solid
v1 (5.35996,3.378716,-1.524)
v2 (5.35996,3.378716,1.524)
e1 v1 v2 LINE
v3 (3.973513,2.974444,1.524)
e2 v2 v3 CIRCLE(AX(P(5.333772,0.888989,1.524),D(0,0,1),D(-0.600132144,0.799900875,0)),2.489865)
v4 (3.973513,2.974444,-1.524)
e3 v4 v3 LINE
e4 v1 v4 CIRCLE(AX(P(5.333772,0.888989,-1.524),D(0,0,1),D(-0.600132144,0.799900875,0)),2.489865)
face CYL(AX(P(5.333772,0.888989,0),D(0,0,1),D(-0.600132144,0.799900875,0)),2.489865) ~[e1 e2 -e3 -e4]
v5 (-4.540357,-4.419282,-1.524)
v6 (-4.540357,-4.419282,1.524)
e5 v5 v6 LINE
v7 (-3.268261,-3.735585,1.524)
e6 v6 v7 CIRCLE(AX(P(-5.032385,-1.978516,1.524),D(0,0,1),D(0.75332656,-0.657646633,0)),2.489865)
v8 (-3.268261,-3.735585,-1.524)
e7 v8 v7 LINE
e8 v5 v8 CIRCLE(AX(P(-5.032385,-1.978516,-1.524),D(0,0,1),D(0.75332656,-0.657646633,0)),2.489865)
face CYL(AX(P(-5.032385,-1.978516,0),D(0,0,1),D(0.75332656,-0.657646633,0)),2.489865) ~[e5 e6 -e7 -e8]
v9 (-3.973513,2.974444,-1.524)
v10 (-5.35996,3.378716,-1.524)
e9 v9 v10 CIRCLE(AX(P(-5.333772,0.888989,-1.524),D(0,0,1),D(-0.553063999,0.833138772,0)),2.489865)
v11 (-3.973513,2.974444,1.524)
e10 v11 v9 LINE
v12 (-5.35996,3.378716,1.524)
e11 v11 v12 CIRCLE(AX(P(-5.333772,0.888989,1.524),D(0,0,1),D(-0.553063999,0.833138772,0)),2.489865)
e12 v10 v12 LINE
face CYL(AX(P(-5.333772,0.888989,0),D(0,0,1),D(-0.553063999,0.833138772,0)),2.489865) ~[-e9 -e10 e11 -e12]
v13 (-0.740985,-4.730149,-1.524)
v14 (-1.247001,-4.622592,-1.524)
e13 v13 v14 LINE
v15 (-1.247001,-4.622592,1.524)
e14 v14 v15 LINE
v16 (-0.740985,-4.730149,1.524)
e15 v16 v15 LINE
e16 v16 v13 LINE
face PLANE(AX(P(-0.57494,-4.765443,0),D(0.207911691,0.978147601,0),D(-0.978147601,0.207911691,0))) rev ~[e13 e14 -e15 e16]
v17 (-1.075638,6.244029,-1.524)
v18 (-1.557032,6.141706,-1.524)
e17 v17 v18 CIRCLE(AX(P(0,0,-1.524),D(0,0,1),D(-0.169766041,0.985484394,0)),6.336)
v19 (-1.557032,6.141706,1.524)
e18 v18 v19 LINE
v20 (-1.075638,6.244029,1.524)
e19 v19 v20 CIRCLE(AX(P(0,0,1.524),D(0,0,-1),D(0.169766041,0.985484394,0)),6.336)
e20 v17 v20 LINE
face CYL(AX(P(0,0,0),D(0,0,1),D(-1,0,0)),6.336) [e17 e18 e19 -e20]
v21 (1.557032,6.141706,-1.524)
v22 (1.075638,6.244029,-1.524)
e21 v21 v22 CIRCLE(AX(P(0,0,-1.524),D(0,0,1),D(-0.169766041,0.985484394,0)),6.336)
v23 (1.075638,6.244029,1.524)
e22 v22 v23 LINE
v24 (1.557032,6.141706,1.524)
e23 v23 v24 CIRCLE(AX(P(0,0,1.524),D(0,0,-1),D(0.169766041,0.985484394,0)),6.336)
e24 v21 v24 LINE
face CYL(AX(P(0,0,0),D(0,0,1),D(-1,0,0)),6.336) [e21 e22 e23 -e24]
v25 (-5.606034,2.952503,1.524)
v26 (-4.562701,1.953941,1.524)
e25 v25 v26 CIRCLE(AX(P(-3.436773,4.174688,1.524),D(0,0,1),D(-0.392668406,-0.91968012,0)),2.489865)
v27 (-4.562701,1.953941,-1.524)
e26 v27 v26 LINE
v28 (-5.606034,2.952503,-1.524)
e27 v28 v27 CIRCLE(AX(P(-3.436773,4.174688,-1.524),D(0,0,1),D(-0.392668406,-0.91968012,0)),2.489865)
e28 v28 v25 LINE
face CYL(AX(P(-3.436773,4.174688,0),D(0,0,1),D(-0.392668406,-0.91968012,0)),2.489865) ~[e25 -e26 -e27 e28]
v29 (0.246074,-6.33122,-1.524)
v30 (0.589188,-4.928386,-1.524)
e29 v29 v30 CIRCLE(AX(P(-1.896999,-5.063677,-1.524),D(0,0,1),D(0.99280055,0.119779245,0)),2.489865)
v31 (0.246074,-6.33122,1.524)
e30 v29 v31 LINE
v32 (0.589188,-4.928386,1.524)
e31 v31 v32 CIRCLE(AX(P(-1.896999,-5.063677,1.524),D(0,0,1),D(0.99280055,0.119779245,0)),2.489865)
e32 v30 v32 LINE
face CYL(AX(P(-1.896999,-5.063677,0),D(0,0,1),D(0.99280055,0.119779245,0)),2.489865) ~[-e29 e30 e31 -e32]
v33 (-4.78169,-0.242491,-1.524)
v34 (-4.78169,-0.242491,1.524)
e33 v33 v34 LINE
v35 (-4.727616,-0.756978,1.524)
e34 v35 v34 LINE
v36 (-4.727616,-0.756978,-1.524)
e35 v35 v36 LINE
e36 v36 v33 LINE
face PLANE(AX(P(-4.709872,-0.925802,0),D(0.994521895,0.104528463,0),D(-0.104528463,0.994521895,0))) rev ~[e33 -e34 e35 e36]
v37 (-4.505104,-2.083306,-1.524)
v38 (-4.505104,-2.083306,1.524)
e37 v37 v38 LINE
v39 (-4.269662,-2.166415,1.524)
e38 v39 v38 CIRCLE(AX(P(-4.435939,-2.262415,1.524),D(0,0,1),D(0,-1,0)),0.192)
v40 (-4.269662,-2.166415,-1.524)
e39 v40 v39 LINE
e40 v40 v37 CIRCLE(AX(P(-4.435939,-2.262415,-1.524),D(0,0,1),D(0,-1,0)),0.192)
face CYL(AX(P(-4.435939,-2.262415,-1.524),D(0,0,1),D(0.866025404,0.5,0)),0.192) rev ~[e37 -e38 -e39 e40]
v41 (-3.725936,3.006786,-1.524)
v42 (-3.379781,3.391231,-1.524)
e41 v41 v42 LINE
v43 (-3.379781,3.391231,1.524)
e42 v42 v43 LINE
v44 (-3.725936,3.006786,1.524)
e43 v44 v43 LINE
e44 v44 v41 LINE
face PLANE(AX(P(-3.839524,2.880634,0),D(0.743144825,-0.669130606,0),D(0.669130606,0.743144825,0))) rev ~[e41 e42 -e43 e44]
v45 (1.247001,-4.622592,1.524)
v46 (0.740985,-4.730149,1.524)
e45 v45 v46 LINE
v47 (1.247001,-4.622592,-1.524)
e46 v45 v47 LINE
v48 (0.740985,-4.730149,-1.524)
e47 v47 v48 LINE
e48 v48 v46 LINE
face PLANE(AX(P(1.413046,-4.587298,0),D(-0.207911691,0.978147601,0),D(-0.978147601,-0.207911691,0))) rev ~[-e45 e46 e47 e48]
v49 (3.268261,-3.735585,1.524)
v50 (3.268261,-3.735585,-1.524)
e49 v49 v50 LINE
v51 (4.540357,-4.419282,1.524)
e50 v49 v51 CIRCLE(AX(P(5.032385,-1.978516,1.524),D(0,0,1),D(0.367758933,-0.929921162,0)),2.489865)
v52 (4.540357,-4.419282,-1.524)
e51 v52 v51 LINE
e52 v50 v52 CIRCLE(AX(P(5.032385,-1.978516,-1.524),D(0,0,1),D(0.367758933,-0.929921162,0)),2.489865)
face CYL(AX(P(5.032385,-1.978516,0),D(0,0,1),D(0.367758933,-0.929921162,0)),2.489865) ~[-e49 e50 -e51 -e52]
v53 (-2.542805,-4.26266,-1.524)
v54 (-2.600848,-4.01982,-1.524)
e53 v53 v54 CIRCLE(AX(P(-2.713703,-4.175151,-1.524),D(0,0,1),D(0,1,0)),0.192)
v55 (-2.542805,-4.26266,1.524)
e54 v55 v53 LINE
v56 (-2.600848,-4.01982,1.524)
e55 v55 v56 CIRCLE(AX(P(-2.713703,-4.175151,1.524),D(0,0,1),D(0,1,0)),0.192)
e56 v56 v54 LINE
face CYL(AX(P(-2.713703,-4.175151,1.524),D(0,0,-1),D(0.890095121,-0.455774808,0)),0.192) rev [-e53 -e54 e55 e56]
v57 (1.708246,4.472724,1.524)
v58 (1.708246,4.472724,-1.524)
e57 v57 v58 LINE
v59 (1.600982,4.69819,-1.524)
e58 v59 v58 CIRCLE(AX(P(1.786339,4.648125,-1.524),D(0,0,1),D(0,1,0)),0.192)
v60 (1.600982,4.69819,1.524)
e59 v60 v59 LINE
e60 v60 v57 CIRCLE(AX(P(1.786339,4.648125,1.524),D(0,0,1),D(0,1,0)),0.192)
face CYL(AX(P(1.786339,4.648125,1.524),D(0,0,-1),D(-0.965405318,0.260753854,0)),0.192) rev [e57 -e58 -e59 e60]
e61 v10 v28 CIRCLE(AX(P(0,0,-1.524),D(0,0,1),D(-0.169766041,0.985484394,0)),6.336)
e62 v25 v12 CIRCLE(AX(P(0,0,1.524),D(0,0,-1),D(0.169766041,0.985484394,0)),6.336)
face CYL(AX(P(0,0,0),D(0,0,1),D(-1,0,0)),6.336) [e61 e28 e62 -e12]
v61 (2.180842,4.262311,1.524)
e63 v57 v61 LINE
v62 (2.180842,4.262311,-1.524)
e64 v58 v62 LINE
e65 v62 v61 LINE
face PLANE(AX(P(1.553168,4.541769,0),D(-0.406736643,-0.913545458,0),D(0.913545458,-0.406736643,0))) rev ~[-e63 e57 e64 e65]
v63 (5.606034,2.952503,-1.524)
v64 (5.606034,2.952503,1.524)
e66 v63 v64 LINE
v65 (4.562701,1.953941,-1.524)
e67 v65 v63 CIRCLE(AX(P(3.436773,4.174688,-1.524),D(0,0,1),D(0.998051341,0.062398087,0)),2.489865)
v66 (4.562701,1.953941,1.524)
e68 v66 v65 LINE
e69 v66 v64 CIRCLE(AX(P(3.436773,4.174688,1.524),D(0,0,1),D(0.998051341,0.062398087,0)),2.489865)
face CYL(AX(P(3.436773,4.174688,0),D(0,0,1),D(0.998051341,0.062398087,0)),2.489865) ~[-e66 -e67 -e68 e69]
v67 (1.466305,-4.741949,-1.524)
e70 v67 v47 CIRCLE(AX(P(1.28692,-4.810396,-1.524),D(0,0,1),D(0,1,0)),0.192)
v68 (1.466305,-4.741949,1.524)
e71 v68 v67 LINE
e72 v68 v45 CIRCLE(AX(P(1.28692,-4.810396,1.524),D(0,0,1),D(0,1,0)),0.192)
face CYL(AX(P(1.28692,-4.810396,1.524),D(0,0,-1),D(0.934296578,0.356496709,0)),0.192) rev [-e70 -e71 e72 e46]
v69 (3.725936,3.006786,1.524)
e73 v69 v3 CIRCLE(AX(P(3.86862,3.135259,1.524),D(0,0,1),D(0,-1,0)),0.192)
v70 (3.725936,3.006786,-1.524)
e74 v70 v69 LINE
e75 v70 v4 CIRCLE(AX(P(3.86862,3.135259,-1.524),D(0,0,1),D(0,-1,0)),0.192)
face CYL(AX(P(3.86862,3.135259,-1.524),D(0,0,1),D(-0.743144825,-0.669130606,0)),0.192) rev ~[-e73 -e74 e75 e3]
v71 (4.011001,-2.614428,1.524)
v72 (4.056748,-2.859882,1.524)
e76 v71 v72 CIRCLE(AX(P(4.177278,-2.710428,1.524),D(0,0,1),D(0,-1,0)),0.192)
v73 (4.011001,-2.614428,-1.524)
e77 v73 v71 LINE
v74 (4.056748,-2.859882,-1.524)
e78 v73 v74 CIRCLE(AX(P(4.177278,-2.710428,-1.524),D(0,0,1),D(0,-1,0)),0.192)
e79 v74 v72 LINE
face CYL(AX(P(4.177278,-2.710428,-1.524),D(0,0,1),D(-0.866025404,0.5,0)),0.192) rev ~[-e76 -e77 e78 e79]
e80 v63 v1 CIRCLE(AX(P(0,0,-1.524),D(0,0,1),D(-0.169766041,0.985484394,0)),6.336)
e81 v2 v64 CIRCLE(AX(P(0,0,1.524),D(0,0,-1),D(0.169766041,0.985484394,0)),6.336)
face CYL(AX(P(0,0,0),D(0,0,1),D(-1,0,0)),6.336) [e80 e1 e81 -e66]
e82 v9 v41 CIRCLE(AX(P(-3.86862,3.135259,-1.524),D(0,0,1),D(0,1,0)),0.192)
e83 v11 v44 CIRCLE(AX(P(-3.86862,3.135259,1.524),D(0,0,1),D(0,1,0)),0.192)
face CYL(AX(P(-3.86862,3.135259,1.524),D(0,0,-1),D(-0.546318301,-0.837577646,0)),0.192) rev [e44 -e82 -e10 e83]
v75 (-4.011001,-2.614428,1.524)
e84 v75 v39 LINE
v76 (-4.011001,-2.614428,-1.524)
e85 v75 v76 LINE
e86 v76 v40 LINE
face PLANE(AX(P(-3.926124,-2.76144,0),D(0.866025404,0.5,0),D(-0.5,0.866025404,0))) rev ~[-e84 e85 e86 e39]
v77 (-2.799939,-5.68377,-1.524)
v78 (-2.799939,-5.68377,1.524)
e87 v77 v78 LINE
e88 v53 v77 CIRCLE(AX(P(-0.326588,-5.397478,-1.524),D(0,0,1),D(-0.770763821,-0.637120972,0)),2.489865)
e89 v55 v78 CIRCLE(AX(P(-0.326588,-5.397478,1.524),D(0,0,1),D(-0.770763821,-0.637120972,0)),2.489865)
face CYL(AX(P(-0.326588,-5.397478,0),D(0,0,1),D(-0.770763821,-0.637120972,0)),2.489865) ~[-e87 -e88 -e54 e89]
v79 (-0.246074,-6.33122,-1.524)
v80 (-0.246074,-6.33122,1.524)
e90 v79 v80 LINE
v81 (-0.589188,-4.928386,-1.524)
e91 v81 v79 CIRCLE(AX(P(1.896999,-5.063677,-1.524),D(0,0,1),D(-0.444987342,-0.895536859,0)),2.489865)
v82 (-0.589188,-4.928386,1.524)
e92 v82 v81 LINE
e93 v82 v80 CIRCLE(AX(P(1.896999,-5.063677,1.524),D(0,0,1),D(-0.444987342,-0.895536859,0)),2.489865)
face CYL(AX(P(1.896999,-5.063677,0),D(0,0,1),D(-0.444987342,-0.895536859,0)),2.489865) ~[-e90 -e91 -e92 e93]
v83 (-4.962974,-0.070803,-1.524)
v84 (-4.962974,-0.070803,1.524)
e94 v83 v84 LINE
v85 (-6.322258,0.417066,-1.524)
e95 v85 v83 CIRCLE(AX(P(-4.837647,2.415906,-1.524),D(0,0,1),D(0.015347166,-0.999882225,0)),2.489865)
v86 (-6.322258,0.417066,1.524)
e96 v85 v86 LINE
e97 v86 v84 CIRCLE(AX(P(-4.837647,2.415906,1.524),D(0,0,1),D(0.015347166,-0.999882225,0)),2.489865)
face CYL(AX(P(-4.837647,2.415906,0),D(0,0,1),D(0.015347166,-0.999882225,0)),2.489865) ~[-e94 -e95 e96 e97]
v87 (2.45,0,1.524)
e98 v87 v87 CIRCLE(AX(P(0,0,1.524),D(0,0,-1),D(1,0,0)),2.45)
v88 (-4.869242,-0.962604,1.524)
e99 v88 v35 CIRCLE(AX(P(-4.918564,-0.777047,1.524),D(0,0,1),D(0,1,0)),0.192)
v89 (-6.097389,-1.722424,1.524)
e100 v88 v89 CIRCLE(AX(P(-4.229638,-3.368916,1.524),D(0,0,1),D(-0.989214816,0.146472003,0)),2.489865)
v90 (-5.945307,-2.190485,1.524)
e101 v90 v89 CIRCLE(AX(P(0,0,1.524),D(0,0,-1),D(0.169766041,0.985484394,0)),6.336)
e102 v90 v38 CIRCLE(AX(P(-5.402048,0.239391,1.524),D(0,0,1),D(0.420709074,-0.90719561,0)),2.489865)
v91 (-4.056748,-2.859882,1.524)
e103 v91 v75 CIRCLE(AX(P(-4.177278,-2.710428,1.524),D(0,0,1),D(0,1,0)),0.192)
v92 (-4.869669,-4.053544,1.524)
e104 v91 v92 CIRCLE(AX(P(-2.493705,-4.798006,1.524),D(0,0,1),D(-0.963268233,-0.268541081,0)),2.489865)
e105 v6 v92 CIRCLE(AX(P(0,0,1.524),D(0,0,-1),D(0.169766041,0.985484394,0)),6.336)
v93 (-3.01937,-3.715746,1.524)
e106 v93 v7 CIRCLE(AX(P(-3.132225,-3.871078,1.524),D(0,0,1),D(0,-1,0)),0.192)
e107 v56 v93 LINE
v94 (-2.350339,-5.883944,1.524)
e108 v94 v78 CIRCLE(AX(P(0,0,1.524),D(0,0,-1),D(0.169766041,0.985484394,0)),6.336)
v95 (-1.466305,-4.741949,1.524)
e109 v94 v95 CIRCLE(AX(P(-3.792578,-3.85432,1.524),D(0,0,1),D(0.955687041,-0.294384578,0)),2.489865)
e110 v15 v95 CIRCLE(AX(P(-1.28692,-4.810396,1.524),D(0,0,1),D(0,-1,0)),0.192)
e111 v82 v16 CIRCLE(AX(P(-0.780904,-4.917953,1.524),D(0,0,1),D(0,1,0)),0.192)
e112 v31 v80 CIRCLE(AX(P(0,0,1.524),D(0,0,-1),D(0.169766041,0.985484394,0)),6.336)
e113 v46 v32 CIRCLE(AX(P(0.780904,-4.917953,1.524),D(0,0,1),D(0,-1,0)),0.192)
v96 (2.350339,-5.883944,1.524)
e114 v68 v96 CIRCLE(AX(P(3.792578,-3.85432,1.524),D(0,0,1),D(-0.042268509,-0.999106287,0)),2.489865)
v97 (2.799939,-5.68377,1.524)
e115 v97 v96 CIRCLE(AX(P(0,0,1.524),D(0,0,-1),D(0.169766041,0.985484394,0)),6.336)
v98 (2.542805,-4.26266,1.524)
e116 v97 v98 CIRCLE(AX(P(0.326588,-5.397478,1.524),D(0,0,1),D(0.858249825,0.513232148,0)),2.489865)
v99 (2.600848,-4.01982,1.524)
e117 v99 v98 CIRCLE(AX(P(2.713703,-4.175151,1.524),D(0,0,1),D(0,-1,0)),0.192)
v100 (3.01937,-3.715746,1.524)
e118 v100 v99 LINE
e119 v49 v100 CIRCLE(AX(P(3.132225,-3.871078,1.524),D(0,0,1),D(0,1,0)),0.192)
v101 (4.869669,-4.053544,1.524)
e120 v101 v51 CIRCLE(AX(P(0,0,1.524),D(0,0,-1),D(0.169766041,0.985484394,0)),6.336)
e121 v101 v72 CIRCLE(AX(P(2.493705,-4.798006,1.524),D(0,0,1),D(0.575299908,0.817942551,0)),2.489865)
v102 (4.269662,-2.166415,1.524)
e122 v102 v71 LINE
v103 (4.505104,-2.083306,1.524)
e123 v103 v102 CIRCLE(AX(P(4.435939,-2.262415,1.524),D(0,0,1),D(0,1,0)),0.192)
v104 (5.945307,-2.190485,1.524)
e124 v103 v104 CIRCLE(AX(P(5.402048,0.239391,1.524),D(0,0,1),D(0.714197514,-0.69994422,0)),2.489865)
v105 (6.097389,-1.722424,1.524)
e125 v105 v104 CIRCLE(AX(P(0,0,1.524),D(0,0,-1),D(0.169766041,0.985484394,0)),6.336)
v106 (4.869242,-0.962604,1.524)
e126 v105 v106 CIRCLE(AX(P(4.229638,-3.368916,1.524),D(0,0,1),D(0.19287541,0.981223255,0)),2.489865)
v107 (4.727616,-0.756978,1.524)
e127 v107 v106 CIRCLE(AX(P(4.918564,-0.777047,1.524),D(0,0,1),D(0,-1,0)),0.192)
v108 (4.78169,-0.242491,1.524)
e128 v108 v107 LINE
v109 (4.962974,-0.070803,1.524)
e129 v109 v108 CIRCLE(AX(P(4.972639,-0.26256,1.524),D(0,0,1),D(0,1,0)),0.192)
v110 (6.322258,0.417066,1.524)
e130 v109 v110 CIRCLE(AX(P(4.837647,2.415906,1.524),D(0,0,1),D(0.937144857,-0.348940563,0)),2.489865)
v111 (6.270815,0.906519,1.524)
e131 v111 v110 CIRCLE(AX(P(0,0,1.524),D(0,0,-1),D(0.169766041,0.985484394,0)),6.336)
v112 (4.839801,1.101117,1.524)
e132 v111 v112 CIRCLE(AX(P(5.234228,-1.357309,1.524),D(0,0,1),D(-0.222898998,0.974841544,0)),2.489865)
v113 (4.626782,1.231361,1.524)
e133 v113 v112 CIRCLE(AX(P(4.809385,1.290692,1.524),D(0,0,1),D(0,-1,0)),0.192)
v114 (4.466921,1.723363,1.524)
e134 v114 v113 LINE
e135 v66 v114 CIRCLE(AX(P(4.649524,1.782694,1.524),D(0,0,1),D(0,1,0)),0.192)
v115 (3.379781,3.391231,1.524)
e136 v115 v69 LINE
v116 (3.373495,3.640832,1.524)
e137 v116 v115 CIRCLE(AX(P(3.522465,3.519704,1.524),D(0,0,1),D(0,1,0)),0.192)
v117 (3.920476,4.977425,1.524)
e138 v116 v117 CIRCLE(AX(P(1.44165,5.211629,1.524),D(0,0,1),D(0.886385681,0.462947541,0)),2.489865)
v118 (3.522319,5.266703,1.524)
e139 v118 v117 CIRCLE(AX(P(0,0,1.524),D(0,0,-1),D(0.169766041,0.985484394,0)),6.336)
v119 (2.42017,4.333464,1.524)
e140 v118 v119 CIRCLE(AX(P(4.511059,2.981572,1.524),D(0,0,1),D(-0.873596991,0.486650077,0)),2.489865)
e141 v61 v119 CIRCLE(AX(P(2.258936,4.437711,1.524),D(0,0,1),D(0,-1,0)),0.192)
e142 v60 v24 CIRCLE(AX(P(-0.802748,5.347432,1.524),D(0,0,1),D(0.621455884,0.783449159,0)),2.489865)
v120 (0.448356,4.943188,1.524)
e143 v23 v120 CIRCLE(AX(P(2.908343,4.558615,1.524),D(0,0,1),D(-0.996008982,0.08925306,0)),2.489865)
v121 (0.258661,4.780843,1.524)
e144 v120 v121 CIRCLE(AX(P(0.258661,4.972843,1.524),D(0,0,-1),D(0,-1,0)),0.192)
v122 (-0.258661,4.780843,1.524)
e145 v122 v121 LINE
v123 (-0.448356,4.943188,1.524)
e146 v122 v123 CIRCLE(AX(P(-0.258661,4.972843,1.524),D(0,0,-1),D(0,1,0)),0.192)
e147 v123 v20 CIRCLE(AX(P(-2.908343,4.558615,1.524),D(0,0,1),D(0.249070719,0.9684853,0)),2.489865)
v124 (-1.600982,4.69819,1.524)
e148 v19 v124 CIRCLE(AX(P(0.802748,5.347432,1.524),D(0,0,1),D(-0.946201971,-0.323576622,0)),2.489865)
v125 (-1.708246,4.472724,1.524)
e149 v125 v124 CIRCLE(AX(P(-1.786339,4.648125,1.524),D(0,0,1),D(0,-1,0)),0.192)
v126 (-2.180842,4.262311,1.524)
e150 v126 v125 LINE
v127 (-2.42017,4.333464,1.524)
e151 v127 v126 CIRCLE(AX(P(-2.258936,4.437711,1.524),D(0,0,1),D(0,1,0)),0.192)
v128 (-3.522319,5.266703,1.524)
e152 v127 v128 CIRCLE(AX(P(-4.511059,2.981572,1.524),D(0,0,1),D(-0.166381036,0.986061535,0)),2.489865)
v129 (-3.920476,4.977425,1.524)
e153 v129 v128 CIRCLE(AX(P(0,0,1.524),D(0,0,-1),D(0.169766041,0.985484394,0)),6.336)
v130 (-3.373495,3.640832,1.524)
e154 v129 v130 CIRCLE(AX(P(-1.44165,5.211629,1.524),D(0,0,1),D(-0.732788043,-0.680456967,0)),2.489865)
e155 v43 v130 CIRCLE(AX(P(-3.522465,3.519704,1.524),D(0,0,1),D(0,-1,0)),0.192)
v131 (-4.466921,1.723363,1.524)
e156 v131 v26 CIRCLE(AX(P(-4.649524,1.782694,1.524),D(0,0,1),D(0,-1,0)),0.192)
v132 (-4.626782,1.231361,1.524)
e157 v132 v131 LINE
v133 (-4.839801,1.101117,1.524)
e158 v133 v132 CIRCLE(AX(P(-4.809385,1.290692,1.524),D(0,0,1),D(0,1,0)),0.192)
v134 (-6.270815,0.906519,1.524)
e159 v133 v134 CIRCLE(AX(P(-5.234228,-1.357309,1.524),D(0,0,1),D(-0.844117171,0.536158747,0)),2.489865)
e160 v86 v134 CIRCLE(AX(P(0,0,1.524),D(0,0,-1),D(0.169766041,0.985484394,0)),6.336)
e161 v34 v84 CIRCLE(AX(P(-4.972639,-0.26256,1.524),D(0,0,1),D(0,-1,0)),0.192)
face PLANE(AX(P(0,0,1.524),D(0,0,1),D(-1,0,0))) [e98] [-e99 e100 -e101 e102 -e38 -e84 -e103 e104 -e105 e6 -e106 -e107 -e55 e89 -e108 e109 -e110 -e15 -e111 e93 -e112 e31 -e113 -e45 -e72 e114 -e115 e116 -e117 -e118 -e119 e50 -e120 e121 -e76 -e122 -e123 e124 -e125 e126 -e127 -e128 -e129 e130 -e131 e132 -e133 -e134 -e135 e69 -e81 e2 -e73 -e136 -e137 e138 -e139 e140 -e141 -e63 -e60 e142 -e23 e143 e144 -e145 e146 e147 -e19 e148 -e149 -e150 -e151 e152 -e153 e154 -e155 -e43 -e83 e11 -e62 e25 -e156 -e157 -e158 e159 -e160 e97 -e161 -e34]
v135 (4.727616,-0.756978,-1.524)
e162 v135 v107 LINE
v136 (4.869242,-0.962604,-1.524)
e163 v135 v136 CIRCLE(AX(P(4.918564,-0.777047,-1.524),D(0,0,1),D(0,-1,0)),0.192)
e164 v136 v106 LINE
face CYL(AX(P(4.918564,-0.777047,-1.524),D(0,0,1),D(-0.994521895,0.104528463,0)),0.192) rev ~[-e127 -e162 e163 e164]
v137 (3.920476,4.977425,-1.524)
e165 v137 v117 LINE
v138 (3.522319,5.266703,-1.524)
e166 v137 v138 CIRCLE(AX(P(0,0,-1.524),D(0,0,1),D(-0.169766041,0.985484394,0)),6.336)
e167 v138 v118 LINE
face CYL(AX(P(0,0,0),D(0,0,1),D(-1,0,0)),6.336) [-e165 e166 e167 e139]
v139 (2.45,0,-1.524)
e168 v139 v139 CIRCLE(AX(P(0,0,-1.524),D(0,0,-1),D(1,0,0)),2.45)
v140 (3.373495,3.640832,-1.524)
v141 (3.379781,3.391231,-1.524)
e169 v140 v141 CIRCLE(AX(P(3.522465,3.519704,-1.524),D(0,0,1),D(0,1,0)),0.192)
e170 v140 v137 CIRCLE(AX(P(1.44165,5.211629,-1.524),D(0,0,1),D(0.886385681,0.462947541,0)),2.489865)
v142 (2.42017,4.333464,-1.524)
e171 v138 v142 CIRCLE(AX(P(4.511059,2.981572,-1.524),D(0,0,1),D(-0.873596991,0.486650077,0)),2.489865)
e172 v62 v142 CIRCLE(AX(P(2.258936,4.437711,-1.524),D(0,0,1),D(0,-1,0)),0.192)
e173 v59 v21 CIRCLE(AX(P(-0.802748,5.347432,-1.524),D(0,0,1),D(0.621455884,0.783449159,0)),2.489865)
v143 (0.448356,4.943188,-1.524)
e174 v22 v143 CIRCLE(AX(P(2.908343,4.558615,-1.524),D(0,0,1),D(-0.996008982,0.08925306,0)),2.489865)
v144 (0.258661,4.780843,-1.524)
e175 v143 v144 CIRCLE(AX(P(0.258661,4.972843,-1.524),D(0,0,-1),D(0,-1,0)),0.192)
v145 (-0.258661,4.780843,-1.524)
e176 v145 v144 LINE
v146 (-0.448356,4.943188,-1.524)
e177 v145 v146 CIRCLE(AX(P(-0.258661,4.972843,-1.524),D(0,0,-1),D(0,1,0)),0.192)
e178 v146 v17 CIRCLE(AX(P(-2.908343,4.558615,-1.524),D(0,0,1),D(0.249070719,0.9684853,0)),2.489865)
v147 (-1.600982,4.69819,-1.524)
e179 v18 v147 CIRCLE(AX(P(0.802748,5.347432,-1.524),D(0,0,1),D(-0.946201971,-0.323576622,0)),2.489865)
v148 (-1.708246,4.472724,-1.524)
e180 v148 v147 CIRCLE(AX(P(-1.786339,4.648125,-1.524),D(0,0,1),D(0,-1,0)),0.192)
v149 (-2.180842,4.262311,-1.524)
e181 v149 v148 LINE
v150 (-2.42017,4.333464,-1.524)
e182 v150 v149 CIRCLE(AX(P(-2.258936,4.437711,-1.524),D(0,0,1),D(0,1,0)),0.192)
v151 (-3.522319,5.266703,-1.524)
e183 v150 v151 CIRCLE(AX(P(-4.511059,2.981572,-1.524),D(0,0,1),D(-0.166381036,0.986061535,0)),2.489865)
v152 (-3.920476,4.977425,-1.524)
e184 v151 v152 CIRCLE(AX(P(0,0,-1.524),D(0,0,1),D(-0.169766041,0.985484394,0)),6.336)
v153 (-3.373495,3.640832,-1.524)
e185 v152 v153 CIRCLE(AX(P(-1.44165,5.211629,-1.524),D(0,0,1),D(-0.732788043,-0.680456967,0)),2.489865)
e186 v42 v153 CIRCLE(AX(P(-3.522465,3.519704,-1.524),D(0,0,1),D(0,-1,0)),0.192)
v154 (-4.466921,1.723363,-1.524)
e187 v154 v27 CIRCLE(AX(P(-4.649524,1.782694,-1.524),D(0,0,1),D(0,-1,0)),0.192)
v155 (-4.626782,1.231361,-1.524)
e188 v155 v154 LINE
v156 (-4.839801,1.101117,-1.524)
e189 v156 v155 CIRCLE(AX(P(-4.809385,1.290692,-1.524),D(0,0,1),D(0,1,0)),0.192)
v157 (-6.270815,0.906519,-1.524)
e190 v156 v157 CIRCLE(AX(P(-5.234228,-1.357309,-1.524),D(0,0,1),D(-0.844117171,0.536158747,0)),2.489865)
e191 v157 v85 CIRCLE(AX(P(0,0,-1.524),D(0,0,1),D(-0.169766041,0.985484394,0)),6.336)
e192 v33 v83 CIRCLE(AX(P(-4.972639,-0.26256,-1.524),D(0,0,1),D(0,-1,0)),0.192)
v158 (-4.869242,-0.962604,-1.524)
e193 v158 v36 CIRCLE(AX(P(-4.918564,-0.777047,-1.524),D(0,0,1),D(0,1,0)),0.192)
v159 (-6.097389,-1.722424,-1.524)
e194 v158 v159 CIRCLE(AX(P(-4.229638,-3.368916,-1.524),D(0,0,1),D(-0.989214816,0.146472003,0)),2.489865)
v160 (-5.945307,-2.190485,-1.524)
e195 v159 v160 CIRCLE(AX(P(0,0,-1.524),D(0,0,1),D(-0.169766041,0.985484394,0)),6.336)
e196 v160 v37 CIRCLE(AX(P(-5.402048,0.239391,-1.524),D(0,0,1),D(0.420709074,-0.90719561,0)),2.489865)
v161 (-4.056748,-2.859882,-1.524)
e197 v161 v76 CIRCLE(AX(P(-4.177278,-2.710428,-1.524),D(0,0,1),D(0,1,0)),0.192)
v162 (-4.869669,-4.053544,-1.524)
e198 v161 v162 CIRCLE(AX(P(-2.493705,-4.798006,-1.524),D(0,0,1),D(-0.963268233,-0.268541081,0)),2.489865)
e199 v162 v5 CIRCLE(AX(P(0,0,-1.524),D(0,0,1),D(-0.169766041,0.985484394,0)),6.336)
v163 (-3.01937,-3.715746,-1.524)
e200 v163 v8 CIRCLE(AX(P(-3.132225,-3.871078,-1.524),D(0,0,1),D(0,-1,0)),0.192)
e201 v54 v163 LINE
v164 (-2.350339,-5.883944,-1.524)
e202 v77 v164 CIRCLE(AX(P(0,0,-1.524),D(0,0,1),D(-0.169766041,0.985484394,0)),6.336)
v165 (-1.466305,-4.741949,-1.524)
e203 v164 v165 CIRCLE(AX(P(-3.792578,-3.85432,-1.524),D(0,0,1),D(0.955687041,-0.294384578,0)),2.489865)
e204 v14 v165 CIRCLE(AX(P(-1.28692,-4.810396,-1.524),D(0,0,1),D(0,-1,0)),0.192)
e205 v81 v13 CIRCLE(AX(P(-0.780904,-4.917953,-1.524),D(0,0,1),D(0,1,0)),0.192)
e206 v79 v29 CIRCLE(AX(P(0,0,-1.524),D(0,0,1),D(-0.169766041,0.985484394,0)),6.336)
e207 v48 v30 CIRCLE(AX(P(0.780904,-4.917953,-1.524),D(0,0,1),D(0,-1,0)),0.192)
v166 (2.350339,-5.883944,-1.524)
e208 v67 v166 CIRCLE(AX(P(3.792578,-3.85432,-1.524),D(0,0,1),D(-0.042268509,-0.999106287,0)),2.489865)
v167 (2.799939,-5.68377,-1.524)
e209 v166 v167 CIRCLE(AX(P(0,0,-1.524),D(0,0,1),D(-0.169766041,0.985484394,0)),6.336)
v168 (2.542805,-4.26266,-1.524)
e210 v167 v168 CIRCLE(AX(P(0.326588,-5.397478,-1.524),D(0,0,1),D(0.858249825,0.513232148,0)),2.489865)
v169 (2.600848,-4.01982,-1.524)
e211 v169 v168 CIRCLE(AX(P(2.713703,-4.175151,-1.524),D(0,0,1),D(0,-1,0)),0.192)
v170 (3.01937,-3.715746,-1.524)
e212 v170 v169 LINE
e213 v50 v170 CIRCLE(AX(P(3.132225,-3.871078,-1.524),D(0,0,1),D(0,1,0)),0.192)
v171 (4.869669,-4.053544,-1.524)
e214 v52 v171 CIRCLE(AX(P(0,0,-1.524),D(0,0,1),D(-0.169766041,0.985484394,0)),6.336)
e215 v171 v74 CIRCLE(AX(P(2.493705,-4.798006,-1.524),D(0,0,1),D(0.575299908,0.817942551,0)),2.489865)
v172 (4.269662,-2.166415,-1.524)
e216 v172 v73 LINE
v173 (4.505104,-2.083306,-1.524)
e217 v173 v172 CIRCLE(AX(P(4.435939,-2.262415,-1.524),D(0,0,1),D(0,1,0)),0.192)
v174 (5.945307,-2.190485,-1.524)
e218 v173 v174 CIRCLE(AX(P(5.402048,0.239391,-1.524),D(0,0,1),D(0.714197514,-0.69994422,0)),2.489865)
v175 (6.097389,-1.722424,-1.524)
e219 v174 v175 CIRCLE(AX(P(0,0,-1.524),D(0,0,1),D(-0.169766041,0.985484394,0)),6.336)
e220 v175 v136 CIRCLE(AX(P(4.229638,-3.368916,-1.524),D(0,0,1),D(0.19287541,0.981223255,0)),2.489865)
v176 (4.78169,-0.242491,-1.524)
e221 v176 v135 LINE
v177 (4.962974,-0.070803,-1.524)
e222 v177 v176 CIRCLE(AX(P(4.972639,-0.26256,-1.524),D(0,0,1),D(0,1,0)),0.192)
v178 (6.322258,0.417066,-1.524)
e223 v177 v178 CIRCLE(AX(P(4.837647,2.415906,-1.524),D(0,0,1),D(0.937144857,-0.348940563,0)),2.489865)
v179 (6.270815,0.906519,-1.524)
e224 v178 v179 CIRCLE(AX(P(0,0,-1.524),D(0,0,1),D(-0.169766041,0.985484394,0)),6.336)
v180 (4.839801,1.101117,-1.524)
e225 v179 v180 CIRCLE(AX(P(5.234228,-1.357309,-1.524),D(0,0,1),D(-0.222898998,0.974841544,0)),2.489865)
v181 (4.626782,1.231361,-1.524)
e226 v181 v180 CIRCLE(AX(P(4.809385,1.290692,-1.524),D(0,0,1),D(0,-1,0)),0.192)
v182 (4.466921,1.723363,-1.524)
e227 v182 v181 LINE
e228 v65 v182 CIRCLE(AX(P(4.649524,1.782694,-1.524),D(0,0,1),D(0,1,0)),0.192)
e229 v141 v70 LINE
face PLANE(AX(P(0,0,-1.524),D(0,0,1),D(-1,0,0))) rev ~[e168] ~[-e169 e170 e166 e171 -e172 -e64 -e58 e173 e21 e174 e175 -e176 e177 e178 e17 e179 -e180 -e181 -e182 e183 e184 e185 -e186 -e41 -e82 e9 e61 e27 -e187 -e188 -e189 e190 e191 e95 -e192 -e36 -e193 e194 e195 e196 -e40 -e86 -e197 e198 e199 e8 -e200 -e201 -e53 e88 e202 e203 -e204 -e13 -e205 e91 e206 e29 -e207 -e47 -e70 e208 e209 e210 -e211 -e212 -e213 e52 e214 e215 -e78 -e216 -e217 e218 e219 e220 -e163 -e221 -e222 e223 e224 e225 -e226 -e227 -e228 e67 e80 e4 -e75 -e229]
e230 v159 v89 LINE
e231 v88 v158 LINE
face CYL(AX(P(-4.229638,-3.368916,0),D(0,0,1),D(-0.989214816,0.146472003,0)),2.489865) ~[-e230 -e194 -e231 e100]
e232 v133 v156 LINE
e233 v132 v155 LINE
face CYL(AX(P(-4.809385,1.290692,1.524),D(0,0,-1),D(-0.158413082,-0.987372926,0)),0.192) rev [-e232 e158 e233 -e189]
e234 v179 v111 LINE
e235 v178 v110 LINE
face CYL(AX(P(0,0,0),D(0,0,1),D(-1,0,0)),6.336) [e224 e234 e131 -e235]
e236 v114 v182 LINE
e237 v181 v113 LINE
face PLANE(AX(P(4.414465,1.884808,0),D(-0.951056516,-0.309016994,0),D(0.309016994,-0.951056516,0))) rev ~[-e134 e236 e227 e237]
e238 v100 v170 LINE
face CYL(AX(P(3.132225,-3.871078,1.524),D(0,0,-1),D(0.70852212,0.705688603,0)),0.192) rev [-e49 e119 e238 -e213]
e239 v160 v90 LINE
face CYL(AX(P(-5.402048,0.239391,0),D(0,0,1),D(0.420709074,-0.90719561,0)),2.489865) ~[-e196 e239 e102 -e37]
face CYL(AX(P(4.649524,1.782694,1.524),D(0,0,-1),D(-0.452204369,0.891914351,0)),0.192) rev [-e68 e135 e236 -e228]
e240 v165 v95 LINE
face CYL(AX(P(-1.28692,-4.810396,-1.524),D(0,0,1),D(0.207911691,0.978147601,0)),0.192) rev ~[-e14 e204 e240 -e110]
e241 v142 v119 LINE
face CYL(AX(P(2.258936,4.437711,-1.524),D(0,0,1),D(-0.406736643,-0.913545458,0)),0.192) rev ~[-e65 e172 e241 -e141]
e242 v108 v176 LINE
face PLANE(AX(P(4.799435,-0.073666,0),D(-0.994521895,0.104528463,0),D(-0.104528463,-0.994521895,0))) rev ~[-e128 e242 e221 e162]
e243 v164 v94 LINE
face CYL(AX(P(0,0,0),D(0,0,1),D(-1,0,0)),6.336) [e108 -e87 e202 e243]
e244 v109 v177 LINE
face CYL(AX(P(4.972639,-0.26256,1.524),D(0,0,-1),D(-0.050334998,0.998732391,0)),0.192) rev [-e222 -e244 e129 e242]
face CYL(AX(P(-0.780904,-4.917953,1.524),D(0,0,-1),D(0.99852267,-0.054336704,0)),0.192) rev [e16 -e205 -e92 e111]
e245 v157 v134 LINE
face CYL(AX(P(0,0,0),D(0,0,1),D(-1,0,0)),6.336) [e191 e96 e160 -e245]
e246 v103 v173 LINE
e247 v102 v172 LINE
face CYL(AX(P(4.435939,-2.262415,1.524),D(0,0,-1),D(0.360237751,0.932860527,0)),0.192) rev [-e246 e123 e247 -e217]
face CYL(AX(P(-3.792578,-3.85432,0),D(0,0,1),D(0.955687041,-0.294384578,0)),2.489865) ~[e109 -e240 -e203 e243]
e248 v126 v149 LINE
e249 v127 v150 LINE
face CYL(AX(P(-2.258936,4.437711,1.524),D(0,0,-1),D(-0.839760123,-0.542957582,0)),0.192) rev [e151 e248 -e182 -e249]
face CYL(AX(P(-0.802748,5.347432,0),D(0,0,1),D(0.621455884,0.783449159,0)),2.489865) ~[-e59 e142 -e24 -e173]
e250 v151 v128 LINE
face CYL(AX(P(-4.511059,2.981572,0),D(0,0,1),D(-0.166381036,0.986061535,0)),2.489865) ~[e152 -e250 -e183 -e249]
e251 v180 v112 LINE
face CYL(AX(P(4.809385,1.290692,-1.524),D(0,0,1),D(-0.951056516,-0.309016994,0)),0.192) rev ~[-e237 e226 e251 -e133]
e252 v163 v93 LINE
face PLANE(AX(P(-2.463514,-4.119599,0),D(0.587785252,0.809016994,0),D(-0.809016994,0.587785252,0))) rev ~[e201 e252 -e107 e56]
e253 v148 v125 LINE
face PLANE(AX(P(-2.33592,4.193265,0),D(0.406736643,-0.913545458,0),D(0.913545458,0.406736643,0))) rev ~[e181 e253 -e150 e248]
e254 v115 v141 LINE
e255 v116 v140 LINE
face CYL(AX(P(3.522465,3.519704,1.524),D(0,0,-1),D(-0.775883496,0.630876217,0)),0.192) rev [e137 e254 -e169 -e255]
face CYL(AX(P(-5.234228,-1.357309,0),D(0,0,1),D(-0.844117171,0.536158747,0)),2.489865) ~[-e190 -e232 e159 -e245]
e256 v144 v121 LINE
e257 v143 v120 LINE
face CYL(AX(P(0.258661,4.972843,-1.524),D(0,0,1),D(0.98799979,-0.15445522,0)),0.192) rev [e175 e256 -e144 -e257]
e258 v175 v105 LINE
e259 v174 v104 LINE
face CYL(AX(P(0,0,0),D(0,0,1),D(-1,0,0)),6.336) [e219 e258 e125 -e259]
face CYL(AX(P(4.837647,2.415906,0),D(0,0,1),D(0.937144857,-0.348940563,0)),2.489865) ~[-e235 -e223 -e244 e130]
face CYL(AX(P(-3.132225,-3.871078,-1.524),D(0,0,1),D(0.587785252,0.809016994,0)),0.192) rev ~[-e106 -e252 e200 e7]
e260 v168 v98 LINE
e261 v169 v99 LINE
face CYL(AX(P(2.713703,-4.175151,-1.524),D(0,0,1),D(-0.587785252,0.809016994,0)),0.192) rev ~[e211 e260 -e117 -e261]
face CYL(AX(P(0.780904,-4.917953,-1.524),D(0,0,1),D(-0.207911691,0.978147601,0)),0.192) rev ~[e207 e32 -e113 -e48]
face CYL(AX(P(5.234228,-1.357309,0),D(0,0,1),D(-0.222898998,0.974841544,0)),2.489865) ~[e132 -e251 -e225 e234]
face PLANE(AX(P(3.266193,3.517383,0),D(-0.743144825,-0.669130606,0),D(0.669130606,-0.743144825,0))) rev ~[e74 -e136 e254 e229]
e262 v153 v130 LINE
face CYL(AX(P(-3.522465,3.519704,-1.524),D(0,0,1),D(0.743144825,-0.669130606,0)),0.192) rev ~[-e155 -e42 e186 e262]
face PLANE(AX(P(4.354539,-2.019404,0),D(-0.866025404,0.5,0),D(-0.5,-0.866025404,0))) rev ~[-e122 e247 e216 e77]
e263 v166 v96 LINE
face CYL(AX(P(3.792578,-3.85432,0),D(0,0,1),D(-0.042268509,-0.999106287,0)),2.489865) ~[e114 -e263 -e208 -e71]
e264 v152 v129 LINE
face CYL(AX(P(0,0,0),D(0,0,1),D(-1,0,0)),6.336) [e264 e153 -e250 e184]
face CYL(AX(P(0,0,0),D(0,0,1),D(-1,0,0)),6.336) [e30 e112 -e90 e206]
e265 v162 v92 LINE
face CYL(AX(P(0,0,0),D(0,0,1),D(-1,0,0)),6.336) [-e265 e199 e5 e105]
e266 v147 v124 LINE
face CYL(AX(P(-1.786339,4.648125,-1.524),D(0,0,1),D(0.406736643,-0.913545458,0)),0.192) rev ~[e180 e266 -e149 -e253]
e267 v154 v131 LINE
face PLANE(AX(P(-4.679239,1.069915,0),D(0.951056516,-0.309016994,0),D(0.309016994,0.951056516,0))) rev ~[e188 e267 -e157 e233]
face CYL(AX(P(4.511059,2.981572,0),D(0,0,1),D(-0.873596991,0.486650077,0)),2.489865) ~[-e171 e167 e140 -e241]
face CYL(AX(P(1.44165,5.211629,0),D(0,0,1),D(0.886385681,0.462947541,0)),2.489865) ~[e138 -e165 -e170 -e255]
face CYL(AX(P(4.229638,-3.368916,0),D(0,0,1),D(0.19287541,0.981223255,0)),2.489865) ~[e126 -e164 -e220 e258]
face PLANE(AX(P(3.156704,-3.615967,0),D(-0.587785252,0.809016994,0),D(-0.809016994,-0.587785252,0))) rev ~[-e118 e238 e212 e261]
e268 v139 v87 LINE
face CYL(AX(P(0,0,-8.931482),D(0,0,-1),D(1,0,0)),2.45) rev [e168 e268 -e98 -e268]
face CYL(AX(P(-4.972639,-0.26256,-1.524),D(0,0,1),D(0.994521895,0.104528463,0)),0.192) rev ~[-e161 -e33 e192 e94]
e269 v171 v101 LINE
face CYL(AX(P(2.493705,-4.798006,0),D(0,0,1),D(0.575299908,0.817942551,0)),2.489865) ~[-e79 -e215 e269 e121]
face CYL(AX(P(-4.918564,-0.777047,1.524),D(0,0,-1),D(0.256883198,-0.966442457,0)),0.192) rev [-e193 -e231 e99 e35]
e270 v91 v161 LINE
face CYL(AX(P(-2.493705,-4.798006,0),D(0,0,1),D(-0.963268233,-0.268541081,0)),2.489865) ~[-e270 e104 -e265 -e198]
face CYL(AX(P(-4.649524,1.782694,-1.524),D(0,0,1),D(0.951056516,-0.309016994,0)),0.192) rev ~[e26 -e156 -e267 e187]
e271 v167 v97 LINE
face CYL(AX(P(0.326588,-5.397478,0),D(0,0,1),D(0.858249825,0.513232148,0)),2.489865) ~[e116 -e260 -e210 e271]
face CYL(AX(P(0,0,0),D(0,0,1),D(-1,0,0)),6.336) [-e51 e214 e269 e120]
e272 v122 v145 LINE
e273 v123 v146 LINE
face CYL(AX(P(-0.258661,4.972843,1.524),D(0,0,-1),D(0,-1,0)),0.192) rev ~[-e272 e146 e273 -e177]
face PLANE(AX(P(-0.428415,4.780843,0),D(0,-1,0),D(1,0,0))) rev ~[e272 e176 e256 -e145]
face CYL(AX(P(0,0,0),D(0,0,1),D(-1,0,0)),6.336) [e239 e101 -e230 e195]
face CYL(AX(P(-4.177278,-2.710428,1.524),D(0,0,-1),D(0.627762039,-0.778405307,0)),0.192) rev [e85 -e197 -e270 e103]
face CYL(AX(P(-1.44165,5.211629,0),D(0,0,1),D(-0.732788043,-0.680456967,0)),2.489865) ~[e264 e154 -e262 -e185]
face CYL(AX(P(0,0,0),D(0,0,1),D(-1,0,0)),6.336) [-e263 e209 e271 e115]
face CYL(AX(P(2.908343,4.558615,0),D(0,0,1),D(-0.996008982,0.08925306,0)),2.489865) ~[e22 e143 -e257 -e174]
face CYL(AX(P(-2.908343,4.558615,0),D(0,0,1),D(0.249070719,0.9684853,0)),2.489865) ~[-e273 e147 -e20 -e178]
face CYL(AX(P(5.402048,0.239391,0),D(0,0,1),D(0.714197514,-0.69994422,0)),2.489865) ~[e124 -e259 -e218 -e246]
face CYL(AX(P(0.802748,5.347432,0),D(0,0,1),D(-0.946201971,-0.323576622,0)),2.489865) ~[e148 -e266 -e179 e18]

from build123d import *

# Parameters (mm, degrees)
SKETCH1_R                = 6.335999901
BOSS_EXTRUDE1_DEPTH      = 1.524
CUT_EXTRUDE1_DEPTH       = 10.089134474
FILLET1_R                = 0.191999997
CIRPATTERN1_COUNT        = 15
FILLET1_OF_CIRPATTERN1_R = 0.191999997
CUT_EXTRUDE2_DEPTH       = 10.455482489
CUT_EXTRUDE2_DEPTH_BACK  = 10.455482489
SKETCH4_R                = 2.45


with BuildPart() as part:
    # Sketch1 → Boss-Extrude1 (new, symmetric)
    with BuildSketch(Plane.XY):
        with Locations(Location((0, 0, 0), (0, 0, 180))):
            Circle(SKETCH1_R)
    extrude(amount=BOSS_EXTRUDE1_DEPTH, both=True)

    # Sketch3 → Cut-Extrude1 (cut, symmetric)
    with BuildSketch(Plane.XY):
        with BuildLine():
            Line((-0.428414679, 4.780843037), (0.428414679, 4.780843037))
            ThreePointArc((0.428414679, 4.780843037), (1.010780942, 6.170659573), (2.288190337, 6.970012879))
            ThreePointArc((2.288190337, 6.970012879), (0, 7.335999901), (-2.288190337, 6.970012879))
            ThreePointArc((-2.288190337, 6.970012879), (-1.010780942, 6.170659573), (-0.428414679, 4.780843037))
        make_face()
    cut_extrude1 = extrude(amount=CUT_EXTRUDE1_DEPTH, both=True, mode=Mode.SUBTRACT)

    # Fillet1
    fillet1_edges = [part.edges().sort_by_distance(p)[0] for p in [
        (-0.428414679, 4.780843037, 0),
        (0.428414679, 4.780843037, 0),
    ]]
    fillet(fillet1_edges, radius=FILLET1_R)

    # CirPattern1: Cut-Extrude1 ×15 about axis
    cirpattern1_axis = Axis((0, 0, 0), (0, 0, 1))
    for i in range(1, CIRPATTERN1_COUNT):
        add(cut_extrude1.rotate(cirpattern1_axis, i * 360 / CIRPATTERN1_COUNT), mode=Mode.SUBTRACT)

    # Fillet1 of CirPattern1
    fillet1_of_cirpattern1_edges = [part.edges().sort_by_distance(p)[0] for p in [
        (-2.335920332, 4.193265492, 0),
        (-1.553167764, 4.541769388, 0),
        (-3.839524138, 2.880634248, 0),
        (-3.26619339, 3.517382552, 0),
        (-4.67923934, 1.069915174, 0),
        (-4.414464507, 1.884808318, 0),
        (-4.70987155, -0.925801954, 0),
        (-4.799434606, -0.073666397, 0),
        (-3.926124182, -2.761439514, 0),
        (-4.354538861, -2.019403523, 0),
        (-2.463514275, -4.119599094, 0),
        (-3.156703787, -3.615967434, 0),
        (-0.574940369, -4.765442566, 0),
        (-1.41304595, -4.587297726, 0),
        (1.41304595, -4.587297726, 0),
        (0.574940369, -4.765442566, 0),
        (3.156703787, -3.615967434, 0),
        (2.463514275, -4.119599094, 0),
        (4.354538861, -2.019403523, 0),
        (3.926124182, -2.761439514, 0),
        (4.799434606, -0.073666397, 0),
        (4.70987155, -0.925801954, 0),
        (4.414464507, 1.884808318, 0),
        (4.67923934, 1.069915174, 0),
        (3.26619339, 3.517382552, 0),
        (3.839524138, 2.880634248, 0),
        (1.553167764, 4.541769388, 0),
        (2.335920332, 4.193265492, 0),
    ]]
    fillet(fillet1_of_cirpattern1_edges, radius=FILLET1_OF_CIRPATTERN1_R)

    # Sketch4 → Cut-Extrude2 (cut, two sides: drawn at the far end of the back side and taken through both)
    with BuildSketch(Plane.XY.offset(1.524).offset(-CUT_EXTRUDE2_DEPTH_BACK)):
        Circle(SKETCH4_R)
    extrude(amount=CUT_EXTRUDE2_DEPTH + CUT_EXTRUDE2_DEPTH_BACK, mode=Mode.SUBTRACT)


solid = part.part
